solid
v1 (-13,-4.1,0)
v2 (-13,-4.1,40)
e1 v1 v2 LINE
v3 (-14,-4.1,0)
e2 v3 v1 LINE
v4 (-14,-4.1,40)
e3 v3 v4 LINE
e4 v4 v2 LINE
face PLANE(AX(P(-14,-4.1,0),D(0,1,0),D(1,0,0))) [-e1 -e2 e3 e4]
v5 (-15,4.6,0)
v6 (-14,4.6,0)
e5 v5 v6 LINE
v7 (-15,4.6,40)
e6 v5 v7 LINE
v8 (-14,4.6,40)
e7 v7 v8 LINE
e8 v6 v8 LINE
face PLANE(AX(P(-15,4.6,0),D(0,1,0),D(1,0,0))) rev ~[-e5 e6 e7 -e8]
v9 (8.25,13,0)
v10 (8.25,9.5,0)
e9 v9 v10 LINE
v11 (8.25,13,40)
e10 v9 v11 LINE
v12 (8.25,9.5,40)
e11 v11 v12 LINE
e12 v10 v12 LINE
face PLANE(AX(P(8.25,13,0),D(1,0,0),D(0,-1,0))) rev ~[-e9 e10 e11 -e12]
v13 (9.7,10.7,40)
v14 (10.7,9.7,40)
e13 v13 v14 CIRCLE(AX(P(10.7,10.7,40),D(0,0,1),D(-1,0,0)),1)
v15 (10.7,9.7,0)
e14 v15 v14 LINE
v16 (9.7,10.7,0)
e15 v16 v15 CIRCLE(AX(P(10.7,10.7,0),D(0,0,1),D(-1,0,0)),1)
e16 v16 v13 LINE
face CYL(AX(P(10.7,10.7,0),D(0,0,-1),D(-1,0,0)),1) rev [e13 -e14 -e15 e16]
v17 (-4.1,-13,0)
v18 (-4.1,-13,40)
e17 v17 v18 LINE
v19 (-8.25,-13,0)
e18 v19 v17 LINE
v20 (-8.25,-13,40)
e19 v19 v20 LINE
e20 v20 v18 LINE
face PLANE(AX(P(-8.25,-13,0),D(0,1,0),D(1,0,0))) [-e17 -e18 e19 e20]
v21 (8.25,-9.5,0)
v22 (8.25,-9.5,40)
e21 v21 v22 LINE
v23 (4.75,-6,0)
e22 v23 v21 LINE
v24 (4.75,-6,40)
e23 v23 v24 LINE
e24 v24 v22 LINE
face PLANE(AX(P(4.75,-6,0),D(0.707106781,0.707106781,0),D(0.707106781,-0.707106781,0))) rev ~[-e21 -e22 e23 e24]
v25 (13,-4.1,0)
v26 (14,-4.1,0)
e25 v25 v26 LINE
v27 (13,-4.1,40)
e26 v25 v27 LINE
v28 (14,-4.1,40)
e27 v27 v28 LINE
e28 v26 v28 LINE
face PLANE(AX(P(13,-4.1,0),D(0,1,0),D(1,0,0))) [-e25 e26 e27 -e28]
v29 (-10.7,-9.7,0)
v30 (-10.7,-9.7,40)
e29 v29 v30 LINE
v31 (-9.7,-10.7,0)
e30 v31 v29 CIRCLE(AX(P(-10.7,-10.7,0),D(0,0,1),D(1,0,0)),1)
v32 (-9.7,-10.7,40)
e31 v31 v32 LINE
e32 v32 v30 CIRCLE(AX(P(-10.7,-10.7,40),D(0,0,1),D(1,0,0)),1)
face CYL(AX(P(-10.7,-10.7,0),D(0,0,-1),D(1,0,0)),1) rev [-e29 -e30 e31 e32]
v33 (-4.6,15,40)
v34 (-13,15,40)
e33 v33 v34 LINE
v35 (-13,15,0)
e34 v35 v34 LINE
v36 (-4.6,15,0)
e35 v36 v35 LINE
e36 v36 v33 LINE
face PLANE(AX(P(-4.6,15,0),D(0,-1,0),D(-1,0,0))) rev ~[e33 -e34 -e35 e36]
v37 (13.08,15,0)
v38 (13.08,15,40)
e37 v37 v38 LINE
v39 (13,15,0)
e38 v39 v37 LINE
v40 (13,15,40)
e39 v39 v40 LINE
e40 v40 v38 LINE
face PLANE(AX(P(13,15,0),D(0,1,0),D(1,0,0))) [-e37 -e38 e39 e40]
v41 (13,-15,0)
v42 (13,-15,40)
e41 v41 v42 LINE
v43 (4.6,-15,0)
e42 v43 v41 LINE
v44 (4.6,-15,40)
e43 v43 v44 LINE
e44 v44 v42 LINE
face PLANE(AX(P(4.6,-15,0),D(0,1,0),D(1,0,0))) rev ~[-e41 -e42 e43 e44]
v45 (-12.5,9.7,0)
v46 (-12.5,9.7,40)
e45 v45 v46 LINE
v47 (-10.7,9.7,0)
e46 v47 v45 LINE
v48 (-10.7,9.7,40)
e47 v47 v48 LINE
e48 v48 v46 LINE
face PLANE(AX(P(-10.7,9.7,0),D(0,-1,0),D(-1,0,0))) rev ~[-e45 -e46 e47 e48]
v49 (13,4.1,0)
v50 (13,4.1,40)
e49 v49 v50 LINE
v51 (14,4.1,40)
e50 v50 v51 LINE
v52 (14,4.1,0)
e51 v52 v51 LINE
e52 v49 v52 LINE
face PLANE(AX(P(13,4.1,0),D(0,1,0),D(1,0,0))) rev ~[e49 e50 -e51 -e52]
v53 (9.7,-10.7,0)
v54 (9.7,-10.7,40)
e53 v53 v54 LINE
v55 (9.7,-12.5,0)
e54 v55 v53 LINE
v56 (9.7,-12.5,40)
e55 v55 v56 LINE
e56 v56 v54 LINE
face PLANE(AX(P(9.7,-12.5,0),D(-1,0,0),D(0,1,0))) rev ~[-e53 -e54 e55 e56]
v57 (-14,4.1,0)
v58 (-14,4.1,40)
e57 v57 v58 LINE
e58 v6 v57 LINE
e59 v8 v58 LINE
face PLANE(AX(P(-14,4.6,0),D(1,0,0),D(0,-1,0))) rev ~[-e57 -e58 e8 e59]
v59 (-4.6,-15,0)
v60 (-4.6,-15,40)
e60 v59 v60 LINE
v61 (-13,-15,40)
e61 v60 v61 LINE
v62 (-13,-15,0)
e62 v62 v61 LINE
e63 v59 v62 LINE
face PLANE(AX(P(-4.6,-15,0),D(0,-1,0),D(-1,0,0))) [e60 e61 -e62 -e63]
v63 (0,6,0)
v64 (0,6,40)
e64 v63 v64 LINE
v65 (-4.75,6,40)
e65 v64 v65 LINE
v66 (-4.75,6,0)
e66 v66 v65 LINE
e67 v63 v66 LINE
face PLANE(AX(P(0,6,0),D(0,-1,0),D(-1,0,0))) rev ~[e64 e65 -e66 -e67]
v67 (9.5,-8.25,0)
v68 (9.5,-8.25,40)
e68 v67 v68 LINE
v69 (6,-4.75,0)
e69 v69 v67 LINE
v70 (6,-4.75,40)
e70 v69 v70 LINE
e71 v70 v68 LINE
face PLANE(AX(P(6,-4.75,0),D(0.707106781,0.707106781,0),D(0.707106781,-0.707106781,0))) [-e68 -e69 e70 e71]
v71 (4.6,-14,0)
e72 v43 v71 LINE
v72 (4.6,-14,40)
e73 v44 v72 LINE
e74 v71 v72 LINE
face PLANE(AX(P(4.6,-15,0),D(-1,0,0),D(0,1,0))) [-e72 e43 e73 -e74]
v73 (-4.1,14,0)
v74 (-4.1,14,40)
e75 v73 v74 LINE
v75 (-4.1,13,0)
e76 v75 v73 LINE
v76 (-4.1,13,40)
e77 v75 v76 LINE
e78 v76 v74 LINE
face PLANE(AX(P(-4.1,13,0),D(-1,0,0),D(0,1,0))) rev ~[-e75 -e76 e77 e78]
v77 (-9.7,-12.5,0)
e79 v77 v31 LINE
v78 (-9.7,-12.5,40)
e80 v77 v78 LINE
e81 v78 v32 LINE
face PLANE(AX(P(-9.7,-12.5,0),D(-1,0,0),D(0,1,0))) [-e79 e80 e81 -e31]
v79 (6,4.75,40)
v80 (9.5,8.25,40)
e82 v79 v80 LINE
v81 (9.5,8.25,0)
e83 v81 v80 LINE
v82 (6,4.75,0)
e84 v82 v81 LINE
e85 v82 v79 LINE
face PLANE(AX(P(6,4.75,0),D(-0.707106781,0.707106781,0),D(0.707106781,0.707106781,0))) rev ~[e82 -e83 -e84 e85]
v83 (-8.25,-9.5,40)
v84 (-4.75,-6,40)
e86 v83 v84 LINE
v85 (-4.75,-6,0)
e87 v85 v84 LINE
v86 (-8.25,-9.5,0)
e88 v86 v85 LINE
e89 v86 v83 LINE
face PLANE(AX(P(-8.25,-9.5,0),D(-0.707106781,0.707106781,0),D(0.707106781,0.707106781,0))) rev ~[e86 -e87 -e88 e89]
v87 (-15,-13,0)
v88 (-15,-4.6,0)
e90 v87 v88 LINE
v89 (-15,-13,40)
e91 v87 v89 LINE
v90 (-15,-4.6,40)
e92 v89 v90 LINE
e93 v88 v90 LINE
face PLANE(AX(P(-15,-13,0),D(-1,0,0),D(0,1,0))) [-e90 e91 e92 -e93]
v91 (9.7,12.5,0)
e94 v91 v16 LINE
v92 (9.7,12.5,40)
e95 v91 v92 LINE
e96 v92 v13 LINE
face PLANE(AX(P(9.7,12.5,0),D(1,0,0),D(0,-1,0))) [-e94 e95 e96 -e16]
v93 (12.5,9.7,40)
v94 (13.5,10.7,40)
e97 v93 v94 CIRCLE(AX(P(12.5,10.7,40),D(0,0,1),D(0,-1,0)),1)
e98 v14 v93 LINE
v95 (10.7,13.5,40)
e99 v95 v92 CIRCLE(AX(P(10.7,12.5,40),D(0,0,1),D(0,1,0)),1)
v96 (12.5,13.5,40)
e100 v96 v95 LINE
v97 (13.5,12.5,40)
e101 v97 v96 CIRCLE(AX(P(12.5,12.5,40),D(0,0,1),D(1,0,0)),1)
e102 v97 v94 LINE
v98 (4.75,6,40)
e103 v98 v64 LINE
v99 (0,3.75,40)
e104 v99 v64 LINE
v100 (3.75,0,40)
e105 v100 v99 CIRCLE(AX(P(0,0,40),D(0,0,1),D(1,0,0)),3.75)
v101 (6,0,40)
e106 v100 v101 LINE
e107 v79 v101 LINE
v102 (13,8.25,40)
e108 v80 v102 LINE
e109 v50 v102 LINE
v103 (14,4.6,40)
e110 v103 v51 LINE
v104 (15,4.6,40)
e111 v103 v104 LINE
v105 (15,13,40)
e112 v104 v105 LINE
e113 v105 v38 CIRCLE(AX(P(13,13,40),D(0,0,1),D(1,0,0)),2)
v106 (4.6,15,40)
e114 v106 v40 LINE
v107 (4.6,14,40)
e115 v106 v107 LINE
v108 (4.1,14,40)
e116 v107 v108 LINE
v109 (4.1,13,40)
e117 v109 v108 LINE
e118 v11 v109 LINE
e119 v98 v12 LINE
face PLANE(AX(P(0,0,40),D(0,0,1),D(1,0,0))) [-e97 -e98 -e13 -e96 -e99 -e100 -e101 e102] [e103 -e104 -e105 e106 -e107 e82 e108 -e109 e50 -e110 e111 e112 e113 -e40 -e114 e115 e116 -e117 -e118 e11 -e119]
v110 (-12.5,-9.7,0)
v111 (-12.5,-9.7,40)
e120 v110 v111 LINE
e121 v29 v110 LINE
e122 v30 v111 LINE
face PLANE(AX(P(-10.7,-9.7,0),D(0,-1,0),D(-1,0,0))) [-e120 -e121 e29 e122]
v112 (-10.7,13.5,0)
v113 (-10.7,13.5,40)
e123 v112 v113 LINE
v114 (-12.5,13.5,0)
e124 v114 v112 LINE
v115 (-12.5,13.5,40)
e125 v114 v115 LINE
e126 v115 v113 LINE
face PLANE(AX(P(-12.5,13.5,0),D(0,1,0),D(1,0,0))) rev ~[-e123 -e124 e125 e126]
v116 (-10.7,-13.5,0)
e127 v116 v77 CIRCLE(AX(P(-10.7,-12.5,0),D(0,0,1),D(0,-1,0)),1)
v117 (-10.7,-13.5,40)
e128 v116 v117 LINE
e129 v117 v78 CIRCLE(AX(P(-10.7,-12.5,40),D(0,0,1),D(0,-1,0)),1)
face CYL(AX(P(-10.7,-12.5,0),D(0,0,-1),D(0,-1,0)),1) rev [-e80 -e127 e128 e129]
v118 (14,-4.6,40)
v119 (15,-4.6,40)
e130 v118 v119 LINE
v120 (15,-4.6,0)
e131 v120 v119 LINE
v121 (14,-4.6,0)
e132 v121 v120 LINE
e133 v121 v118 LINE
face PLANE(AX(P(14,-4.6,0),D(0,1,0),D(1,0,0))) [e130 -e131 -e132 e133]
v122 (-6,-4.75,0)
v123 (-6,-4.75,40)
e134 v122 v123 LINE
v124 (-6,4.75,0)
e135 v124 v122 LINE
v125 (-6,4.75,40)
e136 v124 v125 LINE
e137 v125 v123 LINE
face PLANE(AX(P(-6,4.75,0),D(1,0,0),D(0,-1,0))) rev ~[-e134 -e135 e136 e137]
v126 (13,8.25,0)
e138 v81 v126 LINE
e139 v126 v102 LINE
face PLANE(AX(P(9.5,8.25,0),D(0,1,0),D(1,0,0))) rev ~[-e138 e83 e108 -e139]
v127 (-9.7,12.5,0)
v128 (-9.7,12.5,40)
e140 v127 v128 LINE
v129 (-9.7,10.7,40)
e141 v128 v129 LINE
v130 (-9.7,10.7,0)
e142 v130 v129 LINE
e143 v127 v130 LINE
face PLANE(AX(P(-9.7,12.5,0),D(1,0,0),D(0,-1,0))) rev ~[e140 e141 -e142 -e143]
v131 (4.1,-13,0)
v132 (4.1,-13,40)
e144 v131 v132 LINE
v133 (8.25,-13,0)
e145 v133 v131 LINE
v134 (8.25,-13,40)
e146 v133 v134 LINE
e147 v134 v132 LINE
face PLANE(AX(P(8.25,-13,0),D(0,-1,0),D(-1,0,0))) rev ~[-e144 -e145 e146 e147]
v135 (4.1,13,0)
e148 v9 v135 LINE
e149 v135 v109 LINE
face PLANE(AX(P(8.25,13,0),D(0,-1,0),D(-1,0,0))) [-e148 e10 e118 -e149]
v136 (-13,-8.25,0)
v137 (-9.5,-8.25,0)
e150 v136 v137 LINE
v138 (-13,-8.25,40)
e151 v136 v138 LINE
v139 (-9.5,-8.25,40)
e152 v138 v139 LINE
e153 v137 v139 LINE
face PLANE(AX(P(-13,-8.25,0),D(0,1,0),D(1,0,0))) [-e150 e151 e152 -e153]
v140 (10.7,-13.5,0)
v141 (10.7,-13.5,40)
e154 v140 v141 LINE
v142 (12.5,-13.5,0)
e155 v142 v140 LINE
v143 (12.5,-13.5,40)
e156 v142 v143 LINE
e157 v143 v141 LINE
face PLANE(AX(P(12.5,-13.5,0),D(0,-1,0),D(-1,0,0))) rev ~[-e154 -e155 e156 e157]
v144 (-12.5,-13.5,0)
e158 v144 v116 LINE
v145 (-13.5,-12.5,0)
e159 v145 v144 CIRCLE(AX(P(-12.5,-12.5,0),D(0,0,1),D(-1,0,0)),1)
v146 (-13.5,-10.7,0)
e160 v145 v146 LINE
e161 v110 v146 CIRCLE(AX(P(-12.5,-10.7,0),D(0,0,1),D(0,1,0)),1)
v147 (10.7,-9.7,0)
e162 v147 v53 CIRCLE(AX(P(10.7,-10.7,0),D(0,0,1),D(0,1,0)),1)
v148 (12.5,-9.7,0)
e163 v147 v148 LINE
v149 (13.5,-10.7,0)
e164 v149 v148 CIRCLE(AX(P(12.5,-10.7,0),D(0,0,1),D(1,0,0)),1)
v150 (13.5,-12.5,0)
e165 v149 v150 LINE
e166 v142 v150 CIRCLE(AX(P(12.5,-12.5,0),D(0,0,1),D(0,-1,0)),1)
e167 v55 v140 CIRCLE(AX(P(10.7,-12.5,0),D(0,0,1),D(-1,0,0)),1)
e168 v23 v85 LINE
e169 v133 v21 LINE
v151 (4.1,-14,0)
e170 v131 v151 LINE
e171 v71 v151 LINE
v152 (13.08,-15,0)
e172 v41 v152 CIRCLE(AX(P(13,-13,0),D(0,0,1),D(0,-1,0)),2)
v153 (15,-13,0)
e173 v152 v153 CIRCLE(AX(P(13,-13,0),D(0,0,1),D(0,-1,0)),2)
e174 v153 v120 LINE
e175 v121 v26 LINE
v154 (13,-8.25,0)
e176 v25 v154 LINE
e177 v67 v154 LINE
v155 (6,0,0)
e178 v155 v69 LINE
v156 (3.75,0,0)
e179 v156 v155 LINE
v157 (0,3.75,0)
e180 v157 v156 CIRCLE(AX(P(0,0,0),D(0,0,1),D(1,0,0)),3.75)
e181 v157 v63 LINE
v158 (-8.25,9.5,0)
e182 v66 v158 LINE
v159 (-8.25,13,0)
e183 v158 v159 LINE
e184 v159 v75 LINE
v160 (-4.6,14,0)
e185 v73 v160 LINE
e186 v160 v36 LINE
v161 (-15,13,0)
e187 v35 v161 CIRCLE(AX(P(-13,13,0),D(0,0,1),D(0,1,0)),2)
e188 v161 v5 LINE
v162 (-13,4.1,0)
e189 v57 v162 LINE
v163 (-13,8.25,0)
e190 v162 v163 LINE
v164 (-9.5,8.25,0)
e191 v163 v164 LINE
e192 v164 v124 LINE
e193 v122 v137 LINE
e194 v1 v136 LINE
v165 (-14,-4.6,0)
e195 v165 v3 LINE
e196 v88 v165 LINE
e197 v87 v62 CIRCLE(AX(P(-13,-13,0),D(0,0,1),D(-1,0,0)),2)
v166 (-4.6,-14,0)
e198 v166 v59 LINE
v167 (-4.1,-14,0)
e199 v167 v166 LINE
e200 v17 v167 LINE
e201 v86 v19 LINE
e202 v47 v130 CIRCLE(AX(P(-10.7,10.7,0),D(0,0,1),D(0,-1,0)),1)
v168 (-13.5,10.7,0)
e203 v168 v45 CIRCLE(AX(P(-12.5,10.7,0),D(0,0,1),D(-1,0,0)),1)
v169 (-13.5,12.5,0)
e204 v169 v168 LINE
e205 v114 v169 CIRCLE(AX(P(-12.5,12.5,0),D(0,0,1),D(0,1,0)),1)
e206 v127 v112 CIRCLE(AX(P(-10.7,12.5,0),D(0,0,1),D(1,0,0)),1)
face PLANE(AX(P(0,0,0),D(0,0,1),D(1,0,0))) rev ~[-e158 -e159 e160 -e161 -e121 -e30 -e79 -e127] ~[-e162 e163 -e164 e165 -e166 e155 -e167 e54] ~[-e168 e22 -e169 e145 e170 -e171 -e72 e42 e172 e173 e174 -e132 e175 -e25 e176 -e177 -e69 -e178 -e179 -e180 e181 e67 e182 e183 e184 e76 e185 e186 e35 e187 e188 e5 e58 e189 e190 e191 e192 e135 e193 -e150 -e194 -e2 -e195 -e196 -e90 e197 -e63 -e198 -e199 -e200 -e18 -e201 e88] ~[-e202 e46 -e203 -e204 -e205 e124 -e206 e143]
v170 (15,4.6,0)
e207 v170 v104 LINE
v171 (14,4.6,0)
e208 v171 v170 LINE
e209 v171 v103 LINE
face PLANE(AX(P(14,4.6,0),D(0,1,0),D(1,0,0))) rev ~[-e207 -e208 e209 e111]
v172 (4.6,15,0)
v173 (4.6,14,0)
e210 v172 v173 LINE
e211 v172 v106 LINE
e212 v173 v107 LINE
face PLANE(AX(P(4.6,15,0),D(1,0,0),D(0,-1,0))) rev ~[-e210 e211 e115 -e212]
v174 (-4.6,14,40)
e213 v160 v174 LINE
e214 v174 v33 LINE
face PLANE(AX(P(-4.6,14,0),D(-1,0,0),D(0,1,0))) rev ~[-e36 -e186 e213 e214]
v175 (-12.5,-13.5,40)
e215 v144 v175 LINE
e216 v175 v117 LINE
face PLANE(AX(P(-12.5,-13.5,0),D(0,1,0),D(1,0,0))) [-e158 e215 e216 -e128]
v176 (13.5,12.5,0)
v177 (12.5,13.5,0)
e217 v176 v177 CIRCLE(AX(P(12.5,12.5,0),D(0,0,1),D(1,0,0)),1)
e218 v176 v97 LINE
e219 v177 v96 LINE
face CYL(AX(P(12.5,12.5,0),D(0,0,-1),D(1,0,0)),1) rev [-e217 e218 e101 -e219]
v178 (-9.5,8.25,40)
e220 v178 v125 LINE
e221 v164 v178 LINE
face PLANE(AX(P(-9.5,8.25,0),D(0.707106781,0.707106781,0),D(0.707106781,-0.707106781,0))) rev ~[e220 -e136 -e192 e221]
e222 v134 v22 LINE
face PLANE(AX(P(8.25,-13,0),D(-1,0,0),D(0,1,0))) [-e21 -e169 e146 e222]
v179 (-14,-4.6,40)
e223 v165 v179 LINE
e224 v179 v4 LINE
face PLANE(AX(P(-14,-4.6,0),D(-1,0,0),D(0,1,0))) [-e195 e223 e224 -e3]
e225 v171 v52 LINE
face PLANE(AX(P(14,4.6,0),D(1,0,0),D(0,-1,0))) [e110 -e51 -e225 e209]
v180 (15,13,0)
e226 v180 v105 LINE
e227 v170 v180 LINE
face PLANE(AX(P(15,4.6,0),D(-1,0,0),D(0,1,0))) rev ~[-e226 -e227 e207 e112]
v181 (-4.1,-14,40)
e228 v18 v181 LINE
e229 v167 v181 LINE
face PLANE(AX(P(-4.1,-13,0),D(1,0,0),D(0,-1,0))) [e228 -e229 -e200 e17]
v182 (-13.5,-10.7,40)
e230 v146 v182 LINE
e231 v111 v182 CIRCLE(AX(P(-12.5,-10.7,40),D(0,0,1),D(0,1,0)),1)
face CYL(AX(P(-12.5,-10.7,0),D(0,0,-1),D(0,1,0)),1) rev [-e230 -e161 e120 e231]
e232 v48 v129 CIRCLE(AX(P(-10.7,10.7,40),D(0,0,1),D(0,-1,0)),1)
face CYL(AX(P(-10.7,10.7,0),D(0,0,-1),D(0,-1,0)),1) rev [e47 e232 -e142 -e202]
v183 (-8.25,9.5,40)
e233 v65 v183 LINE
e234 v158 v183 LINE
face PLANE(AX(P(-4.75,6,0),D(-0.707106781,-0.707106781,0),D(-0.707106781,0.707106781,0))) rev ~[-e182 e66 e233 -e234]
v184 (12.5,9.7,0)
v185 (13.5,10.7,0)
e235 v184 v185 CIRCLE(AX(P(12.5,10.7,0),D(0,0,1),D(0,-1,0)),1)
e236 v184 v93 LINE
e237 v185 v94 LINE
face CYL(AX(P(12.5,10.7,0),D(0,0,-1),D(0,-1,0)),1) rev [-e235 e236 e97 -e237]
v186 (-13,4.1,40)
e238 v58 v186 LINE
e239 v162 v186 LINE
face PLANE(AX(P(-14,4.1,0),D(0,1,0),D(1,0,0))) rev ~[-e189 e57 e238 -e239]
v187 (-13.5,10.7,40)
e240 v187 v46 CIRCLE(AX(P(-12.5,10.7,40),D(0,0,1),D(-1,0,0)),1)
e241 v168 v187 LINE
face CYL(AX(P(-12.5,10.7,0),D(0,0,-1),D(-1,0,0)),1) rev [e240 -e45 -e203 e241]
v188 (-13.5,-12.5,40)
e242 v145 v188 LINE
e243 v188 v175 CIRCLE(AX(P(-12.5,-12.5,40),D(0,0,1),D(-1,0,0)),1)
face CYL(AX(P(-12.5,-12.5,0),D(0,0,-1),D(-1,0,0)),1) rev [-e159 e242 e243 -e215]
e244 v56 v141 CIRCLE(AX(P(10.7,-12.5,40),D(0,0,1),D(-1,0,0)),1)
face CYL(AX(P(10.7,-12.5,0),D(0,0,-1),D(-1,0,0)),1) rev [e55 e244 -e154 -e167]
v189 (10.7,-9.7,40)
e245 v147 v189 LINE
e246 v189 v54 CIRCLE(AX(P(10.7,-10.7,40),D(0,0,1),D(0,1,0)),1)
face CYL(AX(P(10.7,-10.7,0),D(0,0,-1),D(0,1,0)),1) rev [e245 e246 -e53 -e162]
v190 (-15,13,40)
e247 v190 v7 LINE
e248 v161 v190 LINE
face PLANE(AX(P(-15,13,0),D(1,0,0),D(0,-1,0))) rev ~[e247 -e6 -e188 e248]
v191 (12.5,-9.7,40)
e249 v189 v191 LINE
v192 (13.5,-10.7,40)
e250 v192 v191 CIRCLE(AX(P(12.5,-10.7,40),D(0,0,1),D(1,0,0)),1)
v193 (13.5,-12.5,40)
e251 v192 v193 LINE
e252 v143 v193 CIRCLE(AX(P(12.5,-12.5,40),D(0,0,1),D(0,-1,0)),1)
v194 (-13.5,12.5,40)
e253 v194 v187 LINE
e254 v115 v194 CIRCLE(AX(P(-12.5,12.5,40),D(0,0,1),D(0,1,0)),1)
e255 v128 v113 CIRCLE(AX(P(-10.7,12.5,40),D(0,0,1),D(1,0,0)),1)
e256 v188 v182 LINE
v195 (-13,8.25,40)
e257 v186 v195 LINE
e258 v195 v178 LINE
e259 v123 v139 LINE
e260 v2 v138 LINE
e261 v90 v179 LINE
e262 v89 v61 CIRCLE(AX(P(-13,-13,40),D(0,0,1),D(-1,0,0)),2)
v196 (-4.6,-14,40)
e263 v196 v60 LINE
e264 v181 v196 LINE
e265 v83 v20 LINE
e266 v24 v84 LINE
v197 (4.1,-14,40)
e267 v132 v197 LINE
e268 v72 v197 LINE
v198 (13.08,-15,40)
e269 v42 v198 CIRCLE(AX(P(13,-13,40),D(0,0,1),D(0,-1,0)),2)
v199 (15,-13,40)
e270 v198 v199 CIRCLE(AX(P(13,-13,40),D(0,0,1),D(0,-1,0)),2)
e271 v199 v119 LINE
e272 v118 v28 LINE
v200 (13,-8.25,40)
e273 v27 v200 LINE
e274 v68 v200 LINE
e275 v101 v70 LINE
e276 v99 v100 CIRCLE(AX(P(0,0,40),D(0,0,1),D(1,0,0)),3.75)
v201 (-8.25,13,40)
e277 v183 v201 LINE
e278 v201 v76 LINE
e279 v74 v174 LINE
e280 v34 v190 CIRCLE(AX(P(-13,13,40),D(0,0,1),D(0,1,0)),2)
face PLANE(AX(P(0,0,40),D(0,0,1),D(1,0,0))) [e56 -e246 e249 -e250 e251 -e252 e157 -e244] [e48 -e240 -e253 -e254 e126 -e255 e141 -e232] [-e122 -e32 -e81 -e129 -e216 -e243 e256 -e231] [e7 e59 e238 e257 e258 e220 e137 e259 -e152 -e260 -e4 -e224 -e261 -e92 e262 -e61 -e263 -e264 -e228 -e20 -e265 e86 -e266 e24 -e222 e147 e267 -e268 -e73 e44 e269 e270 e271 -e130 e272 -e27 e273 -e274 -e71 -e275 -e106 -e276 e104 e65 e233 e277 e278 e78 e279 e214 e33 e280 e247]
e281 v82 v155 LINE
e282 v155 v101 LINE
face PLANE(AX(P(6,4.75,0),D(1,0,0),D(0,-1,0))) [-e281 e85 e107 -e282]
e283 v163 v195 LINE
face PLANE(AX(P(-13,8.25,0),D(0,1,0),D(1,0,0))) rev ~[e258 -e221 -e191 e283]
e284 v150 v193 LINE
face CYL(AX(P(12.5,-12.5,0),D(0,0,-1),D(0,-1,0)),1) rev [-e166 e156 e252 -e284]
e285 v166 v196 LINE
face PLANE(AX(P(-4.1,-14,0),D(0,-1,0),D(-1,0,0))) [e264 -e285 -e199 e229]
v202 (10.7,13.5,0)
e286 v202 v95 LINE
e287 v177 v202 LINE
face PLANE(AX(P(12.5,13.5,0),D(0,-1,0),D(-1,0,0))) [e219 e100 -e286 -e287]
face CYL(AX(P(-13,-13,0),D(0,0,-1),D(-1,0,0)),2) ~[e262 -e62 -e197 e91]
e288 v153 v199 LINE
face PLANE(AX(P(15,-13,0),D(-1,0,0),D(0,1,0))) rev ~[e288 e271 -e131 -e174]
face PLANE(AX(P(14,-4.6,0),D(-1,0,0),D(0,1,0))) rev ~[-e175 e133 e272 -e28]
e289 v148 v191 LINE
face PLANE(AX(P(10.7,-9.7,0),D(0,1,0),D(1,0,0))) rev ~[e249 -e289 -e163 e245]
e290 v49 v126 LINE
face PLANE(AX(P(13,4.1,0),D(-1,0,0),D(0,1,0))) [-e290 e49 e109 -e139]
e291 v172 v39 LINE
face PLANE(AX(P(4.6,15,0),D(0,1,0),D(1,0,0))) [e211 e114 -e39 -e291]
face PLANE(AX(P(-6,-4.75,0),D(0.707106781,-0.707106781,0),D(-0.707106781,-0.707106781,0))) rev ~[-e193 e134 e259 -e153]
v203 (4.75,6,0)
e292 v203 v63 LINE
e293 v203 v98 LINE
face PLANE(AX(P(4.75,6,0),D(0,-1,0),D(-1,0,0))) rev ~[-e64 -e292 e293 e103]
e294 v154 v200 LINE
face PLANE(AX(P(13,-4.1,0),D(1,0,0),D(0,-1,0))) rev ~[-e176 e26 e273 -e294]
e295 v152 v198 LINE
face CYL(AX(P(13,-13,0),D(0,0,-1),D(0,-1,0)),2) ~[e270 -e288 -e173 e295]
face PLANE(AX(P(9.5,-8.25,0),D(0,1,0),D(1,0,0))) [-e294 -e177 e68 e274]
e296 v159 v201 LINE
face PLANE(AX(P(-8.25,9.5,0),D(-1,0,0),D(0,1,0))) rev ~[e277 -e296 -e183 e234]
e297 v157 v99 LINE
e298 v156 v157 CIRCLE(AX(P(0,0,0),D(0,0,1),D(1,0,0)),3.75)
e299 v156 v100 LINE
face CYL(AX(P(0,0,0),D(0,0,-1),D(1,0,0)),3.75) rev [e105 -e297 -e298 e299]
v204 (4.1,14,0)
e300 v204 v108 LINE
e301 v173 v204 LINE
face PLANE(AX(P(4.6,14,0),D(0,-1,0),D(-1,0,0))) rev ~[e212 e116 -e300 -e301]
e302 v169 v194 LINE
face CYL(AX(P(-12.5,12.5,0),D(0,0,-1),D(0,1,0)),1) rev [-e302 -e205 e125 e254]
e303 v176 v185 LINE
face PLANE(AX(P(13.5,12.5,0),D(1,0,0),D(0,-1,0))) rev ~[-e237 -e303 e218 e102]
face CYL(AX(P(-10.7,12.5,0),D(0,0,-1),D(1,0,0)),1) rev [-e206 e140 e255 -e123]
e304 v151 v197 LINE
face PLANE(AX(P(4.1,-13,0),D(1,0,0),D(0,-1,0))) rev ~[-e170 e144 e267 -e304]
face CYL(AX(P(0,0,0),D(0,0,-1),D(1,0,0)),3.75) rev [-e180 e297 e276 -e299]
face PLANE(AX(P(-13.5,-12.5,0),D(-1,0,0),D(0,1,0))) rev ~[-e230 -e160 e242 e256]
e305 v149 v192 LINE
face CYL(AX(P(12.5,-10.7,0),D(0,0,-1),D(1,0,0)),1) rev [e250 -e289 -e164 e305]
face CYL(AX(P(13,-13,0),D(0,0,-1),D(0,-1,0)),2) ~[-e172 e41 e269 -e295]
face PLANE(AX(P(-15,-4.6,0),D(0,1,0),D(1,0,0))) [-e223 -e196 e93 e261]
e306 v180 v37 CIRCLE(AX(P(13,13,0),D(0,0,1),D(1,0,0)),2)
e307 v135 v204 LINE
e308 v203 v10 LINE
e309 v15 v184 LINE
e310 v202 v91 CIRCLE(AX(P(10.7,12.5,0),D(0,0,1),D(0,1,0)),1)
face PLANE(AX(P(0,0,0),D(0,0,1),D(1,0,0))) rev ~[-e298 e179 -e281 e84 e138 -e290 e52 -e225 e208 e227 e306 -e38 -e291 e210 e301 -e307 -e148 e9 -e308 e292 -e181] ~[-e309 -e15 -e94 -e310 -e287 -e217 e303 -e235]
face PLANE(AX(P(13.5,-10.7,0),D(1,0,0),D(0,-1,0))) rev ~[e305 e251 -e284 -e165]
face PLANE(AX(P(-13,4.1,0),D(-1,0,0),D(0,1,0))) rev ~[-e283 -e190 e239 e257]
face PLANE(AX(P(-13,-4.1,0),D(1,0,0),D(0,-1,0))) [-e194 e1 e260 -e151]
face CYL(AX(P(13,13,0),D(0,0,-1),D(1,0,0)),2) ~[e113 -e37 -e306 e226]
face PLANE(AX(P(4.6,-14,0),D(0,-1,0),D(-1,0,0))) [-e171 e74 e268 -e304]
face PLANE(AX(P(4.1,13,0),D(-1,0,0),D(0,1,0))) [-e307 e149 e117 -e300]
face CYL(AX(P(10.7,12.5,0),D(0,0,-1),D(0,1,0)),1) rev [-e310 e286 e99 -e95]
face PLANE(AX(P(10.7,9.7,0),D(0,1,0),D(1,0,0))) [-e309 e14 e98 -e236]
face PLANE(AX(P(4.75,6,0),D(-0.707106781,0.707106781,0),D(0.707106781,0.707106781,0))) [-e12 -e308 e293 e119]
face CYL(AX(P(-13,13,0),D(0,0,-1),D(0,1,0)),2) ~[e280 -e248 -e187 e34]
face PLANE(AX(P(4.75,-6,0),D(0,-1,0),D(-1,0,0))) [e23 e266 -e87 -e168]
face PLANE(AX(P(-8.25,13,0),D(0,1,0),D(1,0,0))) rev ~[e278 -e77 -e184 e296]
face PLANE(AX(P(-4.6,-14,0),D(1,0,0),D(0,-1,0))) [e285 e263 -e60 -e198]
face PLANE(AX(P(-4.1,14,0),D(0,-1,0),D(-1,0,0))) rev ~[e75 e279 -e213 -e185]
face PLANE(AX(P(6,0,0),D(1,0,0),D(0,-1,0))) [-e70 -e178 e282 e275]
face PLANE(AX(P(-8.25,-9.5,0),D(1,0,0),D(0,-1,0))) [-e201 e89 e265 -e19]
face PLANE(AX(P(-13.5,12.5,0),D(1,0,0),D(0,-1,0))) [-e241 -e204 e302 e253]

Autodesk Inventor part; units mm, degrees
ref_plane "YZ Plane" through (0, 0, 0) normal (1, 0, 0) x (0, 1, 0)
ref_plane "XZ Plane" through (0, 0, 0) normal (0, 1, 0) x (-1, 0, 0)
ref_plane "XY Plane" through (0, 0, 0) normal (0, 0, 1) x (1, 0, 0)
sketch "Sketch1" plane through (0, 0, 0) normal (0, 0, 1) x (1, 0, 0)
  line L0 (-4.1, 13) -> (-4.1, 14)
  line L1 (-4.1, 14) -> (-4.6, 14)
  line L2 (-4.6, 14) -> (-4.6, 15)
  line L3 (-4.6, 14) -> (-4.6, 15)
  line L4 (-4.6, 15) -> (-13, 15)
  arc A0 (-13, 15) -> (-15, 13) centre (-13, 13) ccw
  line L5 (-15, 13) -> (-15, 4.6)
  line L6 (-15, 13) -> (-15, 4.6)
  line L7 (-15, 4.6) -> (-14, 4.6)
  line L8 (-15, 4.6) -> (-14, 4.6)
  line L9 (-14, 4.6) -> (-14, 4.1)
  line L10 (-14, 4.6) -> (-14, 4.1)
  line L11 (-14, 4.1) -> (-13, 4.1)
  line L12 (-13, 4.1) -> (-13, 8.25)
  line L13 (-13, 8.25) -> (-9.5, 8.25)
  line L14 (-13, 8.25) -> (-9.5, 8.25)
  line L15 (-9.5, 8.25) -> (-6, 4.75)
  line L16 (-6, 4.75) -> (-6, -4.75)
  line L17 (-6, 4.75) -> (-6, -4.75)
  line L18 (-6, -4.75) -> (-9.5, -8.25)
  line L19 (-14, -4.1) -> (-13, -4.1)
  line L20 (-13, -4.1) -> (-14, -4.1)
  line L21 (-14, -4.6) -> (-14, -4.1)
  line L22 (-14, -4.1) -> (-14, -4.6)
  line L23 (-15, -4.6) -> (-14, -4.6)
  line L24 (-14, -4.6) -> (-15, -4.6)
  line L25 (-8.25, 13) -> (-4.1, 13)
  line L26 (-4.1, 13) -> (-8.25, 13)
  line L27 (-8.25, 9.5) -> (-8.25, 13)
  line L28 (-8.25, 13) -> (-8.25, 9.5)
  line L29 (-4.75, 6) -> (-8.25, 9.5)
  line L30 (-8.25, 9.5) -> (-4.75, 6)
  line L31 (4.75, 6) -> (-4.75, 6)
  line L32 (-4.75, 6) -> (4.75, 6)
  line L33 (4.75, 6) -> (8.25, 9.5)
  line L34 (8.25, 13) -> (8.25, 9.5)
  line L35 (8.25, 9.5) -> (8.25, 13)
  line L36 (8.25, 13) -> (4.1, 13)
  line L37 (4.1, 13) -> (4.1, 14)
  line L38 (4.6, 14) -> (4.1, 14)
  line L39 (4.1, 14) -> (4.6, 14)
  line L40 (4.6, 15) -> (4.6, 14)
  line L41 (4.6, 14) -> (4.6, 15)
  line L42 (4.6, 15) -> (13.08, 15)
  line L43 (15, 4.6) -> (15, 13)
  line L44 (15, 13) -> (15, 4.6)
  line L45 (14, 4.6) -> (15, 4.6)
  line L46 (15, 4.6) -> (14, 4.6)
  line L47 (14, 4.6) -> (14, 4.1)
  line L48 (13, 4.1) -> (14, 4.1)
  line L49 (14, 4.1) -> (13, 4.1)
  line L50 (13, 4.1) -> (13, 8.25)
  line L51 (9.5, 8.25) -> (13, 8.25)
  line L52 (13, 8.25) -> (9.5, 8.25)
  line L53 (6, 4.75) -> (9.5, 8.25)
  line L54 (9.5, 8.25) -> (6, 4.75)
  line L55 (6, 4.75) -> (6, -4.75)
  circle A1 centre (0, 0) radius 3.75
  line L56 (0, 0) -> (7.2487, 0)
  arc A2 (15, 13) -> (13, 15) centre (13, 13) ccw
  arc A3 (15, 13) -> (13.08, 15) centre (12.9977, 12.9994) ccw
  line L57 (-9.5, -8.25) -> (-6, -4.75)
  line L58 (-8.25, -9.5) -> (-4.75, -6)
  line L59 (-4.75, -6) -> (-8.25, -9.5)
  line L60 (-4.1, -13) -> (-4.1, -14)
  line L61 (-4.1, -14) -> (-4.6, -14)
  line L62 (-8.25, -13) -> (-4.1, -13)
  line L63 (-4.1, -13) -> (-8.25, -13)
  line L64 (-8.25, -9.5) -> (-8.25, -13)
  line L65 (-8.25, -13) -> (-8.25, -9.5)
  line L66 (-13, -8.25) -> (-9.5, -8.25)
  line L67 (-13, -4.1) -> (-13, -8.25)
  line L68 (-4.6, -14) -> (-4.6, -15)
  line L69 (-4.6, -14) -> (-4.6, -15)
  line L70 (-4.6, -15) -> (-13, -15)
  line L71 (-14, -4.6) -> (-14, -4.1)
  line L72 (-14, -4.6) -> (-14, -4.1)
  line L73 (-14, -4.1) -> (-13, -4.1)
  line L74 (-15, -4.6) -> (-14, -4.6)
  line L75 (-15, -4.6) -> (-14, -4.6)
  line L76 (-15, -13) -> (-15, -4.6)
  line L77 (-15, -13) -> (-15, -4.6)
  arc A4 (-15, -13) -> (-13, -15) centre (-13, -13) ccw
  line L78 (-13, -8.25) -> (-9.5, -8.25)
  line L79 (8.25, -13) -> (8.25, -9.5)
  line L80 (8.25, -9.5) -> (8.25, -13)
  line L81 (9.5, -8.25) -> (13, -8.25)
  line L82 (13, -8.25) -> (9.5, -8.25)
  line L83 (15, -13) -> (15, -4.6)
  line L84 (15, -4.6) -> (15, -13)
  line L85 (13, -4.1) -> (13, -8.25)
  line L86 (13, -4.1) -> (14, -4.1)
  line L87 (14, -4.1) -> (13, -4.1)
  line L88 (14, -4.6) -> (14, -4.1)
  line L89 (14, -4.6) -> (15, -4.6)
  line L90 (15, -4.6) -> (14, -4.6)
  line L91 (4.75, -6) -> (8.25, -9.5)
  line L92 (6, -4.75) -> (9.5, -8.25)
  line L93 (9.5, -8.25) -> (6, -4.75)
  arc A5 (13, -15) -> (15, -13) centre (13, -13) ccw
  arc A6 (13.08, -15) -> (15, -13) centre (12.9977, -12.9994) ccw
  line L94 (8.25, -13) -> (4.1, -13)
  line L95 (4.1, -13) -> (4.1, -14)
  line L96 (4.6, -14) -> (4.1, -14)
  line L97 (4.1, -14) -> (4.6, -14)
  line L98 (4.6, -15) -> (4.6, -14)
  line L99 (4.6, -14) -> (4.6, -15)
  line L100 (4.6, -15) -> (13.08, -15)
  line L101 (4.75, -6) -> (-4.75, -6)
  line L102 (-4.75, -6) -> (4.75, -6)
  circle A7 centre (0, 0) radius 3.75
  line L103 (-12.5, 13.5) -> (-10.7, 13.5)
  line L104 (-12.5, 13.5) -> (-10.7, 13.5)
  line L105 (-9.7, 12.5) -> (-9.7, 10.7)
  line L106 (-9.7, 12.5) -> (-9.7, 10.7)
  line L107 (-10.7, 9.7) -> (-12.5, 9.7)
  line L108 (-10.7, 9.7) -> (-12.5, 9.7)
  line L109 (-13.5, 12.5) -> (-13.5, 10.7)
  line L110 (-13.5, 10.7) -> (-13.5, 12.5)
  line L111 (-13.5, 12.5) -> (-13.5, 10.7)
  arc A8 (-12.5, 13.5) -> (-13.5, 12.5) centre (-12.5, 12.5) ccw
  arc A9 (-13.5, 10.7) -> (-12.5, 9.7) centre (-12.5, 10.7) ccw
  arc A10 (-13.5, 10.7) -> (-12.5, 9.7) centre (-12.5, 10.7) ccw
  arc A11 (-10.7, 9.7) -> (-9.7, 10.7) centre (-10.7, 10.7) ccw
  arc A12 (-9.7, 12.5) -> (-10.7, 13.5) centre (-10.7, 12.5) ccw
  arc A13 (-9.7, 12.5) -> (-10.7, 13.5) centre (-10.7, 12.5) ccw
  line L112 (0, 0) -> (0, 6.5)
  arc A14 (9.7, 10.7) -> (10.7, 9.7) centre (10.7, 10.7) ccw
  line L113 (9.7, 12.5) -> (9.7, 10.7)
  arc A15 (10.7, 13.5) -> (9.7, 12.5) centre (10.7, 12.5) ccw
  arc A16 (10.7, 13.5) -> (9.7, 12.5) centre (10.7, 12.5) ccw
  line L114 (9.7, 12.5) -> (9.7, 10.7)
  line L115 (12.5, 13.5) -> (10.7, 13.5)
  line L116 (12.5, 13.5) -> (10.7, 13.5)
  line L117 (10.7, 9.7) -> (12.5, 9.7)
  line L118 (10.7, 9.7) -> (12.5, 9.7)
  arc A17 (12.5, 9.7) -> (13.5, 10.7) centre (12.5, 10.7) ccw
  arc A18 (12.5, 9.7) -> (13.5, 10.7) centre (12.5, 10.7) ccw
  line L119 (13.5, 12.5) -> (13.5, 10.7)
  line L120 (13.5, 10.7) -> (13.5, 12.5)
  line L121 (13.5, 12.5) -> (13.5, 10.7)
  arc A19 (13.5, 12.5) -> (12.5, 13.5) centre (12.5, 12.5) ccw
  arc A20 (-13.5, -12.5) -> (-12.5, -13.5) centre (-12.5, -12.5) ccw
  line L122 (-9.7, -12.5) -> (-9.7, -10.7)
  line L123 (-9.7, -12.5) -> (-9.7, -10.7)
  line L124 (-10.7, -9.7) -> (-12.5, -9.7)
  line L125 (-10.7, -9.7) -> (-12.5, -9.7)
  line L126 (-13.5, -12.5) -> (-13.5, -10.7)
  line L127 (-13.5, -10.7) -> (-13.5, -12.5)
  line L128 (-13.5, -12.5) -> (-13.5, -10.7)
  arc A21 (-12.5, -9.7) -> (-13.5, -10.7) centre (-12.5, -10.7) ccw
  arc A22 (-12.5, -9.7) -> (-13.5, -10.7) centre (-12.5, -10.7) ccw
  arc A23 (-9.7, -10.7) -> (-10.7, -9.7) centre (-10.7, -10.7) ccw
  line L129 (-12.5, -13.5) -> (-10.7, -13.5)
  line L130 (-12.5, -13.5) -> (-10.7, -13.5)
  arc A24 (-10.7, -13.5) -> (-9.7, -12.5) centre (-10.7, -12.5) ccw
  arc A25 (-10.7, -13.5) -> (-9.7, -12.5) centre (-10.7, -12.5) ccw
  line L131 (12.5, -13.5) -> (10.7, -13.5)
  line L132 (12.5, -13.5) -> (10.7, -13.5)
  line L133 (9.7, -12.5) -> (9.7, -10.7)
  line L134 (9.7, -12.5) -> (9.7, -10.7)
  arc A26 (9.7, -12.5) -> (10.7, -13.5) centre (10.7, -12.5) ccw
  arc A27 (9.7, -12.5) -> (10.7, -13.5) centre (10.7, -12.5) ccw
  line L135 (13.5, -10.7) -> (13.5, -12.5)
  line L136 (13.5, -12.5) -> (13.5, -10.7)
  line L137 (13.5, -12.5) -> (13.5, -10.7)
  arc A28 (12.5, -13.5) -> (13.5, -12.5) centre (12.5, -12.5) ccw
  arc A29 (13.5, -10.7) -> (12.5, -9.7) centre (12.5, -10.7) ccw
  arc A30 (13.5, -10.7) -> (12.5, -9.7) centre (12.5, -10.7) ccw
  arc A31 (10.7, -9.7) -> (9.7, -10.7) centre (10.7, -10.7) ccw
  line L138 (10.7, -9.7) -> (12.5, -9.7)
  line L139 (10.7, -9.7) -> (12.5, -9.7)
  point P0 (14.7321, -14)
  point P1 (14.7321, 14)
  point P2 (14.7321, 14)
  point P3 (14.7321, -14)
extrude "Extrusion1" add sketch "Sketch1" along normal blind 40 contours L25 L27 L29 L31 L112 A1 L56 L55 L92 L81 L85 L86 L88 L89 L83 A5 L100 L98 L96 L95 L94 L79 L91 L101 L58 L64 L62 L60 L61 L68 L70 A4 L76 L23 L21 L19 L67 L66 L18 L16 L15 L13 L12 L11 L9 L7 L5 A0 L4 L2 L1 L0 | L31 L33 L34 L36 L37 L38 L40 L42 A2 L43 L45 L47 L48 L50 L51 L53 L55 L56 A1 L112
properties part number "30x30 aluminum" material "Aluminum 6061"
